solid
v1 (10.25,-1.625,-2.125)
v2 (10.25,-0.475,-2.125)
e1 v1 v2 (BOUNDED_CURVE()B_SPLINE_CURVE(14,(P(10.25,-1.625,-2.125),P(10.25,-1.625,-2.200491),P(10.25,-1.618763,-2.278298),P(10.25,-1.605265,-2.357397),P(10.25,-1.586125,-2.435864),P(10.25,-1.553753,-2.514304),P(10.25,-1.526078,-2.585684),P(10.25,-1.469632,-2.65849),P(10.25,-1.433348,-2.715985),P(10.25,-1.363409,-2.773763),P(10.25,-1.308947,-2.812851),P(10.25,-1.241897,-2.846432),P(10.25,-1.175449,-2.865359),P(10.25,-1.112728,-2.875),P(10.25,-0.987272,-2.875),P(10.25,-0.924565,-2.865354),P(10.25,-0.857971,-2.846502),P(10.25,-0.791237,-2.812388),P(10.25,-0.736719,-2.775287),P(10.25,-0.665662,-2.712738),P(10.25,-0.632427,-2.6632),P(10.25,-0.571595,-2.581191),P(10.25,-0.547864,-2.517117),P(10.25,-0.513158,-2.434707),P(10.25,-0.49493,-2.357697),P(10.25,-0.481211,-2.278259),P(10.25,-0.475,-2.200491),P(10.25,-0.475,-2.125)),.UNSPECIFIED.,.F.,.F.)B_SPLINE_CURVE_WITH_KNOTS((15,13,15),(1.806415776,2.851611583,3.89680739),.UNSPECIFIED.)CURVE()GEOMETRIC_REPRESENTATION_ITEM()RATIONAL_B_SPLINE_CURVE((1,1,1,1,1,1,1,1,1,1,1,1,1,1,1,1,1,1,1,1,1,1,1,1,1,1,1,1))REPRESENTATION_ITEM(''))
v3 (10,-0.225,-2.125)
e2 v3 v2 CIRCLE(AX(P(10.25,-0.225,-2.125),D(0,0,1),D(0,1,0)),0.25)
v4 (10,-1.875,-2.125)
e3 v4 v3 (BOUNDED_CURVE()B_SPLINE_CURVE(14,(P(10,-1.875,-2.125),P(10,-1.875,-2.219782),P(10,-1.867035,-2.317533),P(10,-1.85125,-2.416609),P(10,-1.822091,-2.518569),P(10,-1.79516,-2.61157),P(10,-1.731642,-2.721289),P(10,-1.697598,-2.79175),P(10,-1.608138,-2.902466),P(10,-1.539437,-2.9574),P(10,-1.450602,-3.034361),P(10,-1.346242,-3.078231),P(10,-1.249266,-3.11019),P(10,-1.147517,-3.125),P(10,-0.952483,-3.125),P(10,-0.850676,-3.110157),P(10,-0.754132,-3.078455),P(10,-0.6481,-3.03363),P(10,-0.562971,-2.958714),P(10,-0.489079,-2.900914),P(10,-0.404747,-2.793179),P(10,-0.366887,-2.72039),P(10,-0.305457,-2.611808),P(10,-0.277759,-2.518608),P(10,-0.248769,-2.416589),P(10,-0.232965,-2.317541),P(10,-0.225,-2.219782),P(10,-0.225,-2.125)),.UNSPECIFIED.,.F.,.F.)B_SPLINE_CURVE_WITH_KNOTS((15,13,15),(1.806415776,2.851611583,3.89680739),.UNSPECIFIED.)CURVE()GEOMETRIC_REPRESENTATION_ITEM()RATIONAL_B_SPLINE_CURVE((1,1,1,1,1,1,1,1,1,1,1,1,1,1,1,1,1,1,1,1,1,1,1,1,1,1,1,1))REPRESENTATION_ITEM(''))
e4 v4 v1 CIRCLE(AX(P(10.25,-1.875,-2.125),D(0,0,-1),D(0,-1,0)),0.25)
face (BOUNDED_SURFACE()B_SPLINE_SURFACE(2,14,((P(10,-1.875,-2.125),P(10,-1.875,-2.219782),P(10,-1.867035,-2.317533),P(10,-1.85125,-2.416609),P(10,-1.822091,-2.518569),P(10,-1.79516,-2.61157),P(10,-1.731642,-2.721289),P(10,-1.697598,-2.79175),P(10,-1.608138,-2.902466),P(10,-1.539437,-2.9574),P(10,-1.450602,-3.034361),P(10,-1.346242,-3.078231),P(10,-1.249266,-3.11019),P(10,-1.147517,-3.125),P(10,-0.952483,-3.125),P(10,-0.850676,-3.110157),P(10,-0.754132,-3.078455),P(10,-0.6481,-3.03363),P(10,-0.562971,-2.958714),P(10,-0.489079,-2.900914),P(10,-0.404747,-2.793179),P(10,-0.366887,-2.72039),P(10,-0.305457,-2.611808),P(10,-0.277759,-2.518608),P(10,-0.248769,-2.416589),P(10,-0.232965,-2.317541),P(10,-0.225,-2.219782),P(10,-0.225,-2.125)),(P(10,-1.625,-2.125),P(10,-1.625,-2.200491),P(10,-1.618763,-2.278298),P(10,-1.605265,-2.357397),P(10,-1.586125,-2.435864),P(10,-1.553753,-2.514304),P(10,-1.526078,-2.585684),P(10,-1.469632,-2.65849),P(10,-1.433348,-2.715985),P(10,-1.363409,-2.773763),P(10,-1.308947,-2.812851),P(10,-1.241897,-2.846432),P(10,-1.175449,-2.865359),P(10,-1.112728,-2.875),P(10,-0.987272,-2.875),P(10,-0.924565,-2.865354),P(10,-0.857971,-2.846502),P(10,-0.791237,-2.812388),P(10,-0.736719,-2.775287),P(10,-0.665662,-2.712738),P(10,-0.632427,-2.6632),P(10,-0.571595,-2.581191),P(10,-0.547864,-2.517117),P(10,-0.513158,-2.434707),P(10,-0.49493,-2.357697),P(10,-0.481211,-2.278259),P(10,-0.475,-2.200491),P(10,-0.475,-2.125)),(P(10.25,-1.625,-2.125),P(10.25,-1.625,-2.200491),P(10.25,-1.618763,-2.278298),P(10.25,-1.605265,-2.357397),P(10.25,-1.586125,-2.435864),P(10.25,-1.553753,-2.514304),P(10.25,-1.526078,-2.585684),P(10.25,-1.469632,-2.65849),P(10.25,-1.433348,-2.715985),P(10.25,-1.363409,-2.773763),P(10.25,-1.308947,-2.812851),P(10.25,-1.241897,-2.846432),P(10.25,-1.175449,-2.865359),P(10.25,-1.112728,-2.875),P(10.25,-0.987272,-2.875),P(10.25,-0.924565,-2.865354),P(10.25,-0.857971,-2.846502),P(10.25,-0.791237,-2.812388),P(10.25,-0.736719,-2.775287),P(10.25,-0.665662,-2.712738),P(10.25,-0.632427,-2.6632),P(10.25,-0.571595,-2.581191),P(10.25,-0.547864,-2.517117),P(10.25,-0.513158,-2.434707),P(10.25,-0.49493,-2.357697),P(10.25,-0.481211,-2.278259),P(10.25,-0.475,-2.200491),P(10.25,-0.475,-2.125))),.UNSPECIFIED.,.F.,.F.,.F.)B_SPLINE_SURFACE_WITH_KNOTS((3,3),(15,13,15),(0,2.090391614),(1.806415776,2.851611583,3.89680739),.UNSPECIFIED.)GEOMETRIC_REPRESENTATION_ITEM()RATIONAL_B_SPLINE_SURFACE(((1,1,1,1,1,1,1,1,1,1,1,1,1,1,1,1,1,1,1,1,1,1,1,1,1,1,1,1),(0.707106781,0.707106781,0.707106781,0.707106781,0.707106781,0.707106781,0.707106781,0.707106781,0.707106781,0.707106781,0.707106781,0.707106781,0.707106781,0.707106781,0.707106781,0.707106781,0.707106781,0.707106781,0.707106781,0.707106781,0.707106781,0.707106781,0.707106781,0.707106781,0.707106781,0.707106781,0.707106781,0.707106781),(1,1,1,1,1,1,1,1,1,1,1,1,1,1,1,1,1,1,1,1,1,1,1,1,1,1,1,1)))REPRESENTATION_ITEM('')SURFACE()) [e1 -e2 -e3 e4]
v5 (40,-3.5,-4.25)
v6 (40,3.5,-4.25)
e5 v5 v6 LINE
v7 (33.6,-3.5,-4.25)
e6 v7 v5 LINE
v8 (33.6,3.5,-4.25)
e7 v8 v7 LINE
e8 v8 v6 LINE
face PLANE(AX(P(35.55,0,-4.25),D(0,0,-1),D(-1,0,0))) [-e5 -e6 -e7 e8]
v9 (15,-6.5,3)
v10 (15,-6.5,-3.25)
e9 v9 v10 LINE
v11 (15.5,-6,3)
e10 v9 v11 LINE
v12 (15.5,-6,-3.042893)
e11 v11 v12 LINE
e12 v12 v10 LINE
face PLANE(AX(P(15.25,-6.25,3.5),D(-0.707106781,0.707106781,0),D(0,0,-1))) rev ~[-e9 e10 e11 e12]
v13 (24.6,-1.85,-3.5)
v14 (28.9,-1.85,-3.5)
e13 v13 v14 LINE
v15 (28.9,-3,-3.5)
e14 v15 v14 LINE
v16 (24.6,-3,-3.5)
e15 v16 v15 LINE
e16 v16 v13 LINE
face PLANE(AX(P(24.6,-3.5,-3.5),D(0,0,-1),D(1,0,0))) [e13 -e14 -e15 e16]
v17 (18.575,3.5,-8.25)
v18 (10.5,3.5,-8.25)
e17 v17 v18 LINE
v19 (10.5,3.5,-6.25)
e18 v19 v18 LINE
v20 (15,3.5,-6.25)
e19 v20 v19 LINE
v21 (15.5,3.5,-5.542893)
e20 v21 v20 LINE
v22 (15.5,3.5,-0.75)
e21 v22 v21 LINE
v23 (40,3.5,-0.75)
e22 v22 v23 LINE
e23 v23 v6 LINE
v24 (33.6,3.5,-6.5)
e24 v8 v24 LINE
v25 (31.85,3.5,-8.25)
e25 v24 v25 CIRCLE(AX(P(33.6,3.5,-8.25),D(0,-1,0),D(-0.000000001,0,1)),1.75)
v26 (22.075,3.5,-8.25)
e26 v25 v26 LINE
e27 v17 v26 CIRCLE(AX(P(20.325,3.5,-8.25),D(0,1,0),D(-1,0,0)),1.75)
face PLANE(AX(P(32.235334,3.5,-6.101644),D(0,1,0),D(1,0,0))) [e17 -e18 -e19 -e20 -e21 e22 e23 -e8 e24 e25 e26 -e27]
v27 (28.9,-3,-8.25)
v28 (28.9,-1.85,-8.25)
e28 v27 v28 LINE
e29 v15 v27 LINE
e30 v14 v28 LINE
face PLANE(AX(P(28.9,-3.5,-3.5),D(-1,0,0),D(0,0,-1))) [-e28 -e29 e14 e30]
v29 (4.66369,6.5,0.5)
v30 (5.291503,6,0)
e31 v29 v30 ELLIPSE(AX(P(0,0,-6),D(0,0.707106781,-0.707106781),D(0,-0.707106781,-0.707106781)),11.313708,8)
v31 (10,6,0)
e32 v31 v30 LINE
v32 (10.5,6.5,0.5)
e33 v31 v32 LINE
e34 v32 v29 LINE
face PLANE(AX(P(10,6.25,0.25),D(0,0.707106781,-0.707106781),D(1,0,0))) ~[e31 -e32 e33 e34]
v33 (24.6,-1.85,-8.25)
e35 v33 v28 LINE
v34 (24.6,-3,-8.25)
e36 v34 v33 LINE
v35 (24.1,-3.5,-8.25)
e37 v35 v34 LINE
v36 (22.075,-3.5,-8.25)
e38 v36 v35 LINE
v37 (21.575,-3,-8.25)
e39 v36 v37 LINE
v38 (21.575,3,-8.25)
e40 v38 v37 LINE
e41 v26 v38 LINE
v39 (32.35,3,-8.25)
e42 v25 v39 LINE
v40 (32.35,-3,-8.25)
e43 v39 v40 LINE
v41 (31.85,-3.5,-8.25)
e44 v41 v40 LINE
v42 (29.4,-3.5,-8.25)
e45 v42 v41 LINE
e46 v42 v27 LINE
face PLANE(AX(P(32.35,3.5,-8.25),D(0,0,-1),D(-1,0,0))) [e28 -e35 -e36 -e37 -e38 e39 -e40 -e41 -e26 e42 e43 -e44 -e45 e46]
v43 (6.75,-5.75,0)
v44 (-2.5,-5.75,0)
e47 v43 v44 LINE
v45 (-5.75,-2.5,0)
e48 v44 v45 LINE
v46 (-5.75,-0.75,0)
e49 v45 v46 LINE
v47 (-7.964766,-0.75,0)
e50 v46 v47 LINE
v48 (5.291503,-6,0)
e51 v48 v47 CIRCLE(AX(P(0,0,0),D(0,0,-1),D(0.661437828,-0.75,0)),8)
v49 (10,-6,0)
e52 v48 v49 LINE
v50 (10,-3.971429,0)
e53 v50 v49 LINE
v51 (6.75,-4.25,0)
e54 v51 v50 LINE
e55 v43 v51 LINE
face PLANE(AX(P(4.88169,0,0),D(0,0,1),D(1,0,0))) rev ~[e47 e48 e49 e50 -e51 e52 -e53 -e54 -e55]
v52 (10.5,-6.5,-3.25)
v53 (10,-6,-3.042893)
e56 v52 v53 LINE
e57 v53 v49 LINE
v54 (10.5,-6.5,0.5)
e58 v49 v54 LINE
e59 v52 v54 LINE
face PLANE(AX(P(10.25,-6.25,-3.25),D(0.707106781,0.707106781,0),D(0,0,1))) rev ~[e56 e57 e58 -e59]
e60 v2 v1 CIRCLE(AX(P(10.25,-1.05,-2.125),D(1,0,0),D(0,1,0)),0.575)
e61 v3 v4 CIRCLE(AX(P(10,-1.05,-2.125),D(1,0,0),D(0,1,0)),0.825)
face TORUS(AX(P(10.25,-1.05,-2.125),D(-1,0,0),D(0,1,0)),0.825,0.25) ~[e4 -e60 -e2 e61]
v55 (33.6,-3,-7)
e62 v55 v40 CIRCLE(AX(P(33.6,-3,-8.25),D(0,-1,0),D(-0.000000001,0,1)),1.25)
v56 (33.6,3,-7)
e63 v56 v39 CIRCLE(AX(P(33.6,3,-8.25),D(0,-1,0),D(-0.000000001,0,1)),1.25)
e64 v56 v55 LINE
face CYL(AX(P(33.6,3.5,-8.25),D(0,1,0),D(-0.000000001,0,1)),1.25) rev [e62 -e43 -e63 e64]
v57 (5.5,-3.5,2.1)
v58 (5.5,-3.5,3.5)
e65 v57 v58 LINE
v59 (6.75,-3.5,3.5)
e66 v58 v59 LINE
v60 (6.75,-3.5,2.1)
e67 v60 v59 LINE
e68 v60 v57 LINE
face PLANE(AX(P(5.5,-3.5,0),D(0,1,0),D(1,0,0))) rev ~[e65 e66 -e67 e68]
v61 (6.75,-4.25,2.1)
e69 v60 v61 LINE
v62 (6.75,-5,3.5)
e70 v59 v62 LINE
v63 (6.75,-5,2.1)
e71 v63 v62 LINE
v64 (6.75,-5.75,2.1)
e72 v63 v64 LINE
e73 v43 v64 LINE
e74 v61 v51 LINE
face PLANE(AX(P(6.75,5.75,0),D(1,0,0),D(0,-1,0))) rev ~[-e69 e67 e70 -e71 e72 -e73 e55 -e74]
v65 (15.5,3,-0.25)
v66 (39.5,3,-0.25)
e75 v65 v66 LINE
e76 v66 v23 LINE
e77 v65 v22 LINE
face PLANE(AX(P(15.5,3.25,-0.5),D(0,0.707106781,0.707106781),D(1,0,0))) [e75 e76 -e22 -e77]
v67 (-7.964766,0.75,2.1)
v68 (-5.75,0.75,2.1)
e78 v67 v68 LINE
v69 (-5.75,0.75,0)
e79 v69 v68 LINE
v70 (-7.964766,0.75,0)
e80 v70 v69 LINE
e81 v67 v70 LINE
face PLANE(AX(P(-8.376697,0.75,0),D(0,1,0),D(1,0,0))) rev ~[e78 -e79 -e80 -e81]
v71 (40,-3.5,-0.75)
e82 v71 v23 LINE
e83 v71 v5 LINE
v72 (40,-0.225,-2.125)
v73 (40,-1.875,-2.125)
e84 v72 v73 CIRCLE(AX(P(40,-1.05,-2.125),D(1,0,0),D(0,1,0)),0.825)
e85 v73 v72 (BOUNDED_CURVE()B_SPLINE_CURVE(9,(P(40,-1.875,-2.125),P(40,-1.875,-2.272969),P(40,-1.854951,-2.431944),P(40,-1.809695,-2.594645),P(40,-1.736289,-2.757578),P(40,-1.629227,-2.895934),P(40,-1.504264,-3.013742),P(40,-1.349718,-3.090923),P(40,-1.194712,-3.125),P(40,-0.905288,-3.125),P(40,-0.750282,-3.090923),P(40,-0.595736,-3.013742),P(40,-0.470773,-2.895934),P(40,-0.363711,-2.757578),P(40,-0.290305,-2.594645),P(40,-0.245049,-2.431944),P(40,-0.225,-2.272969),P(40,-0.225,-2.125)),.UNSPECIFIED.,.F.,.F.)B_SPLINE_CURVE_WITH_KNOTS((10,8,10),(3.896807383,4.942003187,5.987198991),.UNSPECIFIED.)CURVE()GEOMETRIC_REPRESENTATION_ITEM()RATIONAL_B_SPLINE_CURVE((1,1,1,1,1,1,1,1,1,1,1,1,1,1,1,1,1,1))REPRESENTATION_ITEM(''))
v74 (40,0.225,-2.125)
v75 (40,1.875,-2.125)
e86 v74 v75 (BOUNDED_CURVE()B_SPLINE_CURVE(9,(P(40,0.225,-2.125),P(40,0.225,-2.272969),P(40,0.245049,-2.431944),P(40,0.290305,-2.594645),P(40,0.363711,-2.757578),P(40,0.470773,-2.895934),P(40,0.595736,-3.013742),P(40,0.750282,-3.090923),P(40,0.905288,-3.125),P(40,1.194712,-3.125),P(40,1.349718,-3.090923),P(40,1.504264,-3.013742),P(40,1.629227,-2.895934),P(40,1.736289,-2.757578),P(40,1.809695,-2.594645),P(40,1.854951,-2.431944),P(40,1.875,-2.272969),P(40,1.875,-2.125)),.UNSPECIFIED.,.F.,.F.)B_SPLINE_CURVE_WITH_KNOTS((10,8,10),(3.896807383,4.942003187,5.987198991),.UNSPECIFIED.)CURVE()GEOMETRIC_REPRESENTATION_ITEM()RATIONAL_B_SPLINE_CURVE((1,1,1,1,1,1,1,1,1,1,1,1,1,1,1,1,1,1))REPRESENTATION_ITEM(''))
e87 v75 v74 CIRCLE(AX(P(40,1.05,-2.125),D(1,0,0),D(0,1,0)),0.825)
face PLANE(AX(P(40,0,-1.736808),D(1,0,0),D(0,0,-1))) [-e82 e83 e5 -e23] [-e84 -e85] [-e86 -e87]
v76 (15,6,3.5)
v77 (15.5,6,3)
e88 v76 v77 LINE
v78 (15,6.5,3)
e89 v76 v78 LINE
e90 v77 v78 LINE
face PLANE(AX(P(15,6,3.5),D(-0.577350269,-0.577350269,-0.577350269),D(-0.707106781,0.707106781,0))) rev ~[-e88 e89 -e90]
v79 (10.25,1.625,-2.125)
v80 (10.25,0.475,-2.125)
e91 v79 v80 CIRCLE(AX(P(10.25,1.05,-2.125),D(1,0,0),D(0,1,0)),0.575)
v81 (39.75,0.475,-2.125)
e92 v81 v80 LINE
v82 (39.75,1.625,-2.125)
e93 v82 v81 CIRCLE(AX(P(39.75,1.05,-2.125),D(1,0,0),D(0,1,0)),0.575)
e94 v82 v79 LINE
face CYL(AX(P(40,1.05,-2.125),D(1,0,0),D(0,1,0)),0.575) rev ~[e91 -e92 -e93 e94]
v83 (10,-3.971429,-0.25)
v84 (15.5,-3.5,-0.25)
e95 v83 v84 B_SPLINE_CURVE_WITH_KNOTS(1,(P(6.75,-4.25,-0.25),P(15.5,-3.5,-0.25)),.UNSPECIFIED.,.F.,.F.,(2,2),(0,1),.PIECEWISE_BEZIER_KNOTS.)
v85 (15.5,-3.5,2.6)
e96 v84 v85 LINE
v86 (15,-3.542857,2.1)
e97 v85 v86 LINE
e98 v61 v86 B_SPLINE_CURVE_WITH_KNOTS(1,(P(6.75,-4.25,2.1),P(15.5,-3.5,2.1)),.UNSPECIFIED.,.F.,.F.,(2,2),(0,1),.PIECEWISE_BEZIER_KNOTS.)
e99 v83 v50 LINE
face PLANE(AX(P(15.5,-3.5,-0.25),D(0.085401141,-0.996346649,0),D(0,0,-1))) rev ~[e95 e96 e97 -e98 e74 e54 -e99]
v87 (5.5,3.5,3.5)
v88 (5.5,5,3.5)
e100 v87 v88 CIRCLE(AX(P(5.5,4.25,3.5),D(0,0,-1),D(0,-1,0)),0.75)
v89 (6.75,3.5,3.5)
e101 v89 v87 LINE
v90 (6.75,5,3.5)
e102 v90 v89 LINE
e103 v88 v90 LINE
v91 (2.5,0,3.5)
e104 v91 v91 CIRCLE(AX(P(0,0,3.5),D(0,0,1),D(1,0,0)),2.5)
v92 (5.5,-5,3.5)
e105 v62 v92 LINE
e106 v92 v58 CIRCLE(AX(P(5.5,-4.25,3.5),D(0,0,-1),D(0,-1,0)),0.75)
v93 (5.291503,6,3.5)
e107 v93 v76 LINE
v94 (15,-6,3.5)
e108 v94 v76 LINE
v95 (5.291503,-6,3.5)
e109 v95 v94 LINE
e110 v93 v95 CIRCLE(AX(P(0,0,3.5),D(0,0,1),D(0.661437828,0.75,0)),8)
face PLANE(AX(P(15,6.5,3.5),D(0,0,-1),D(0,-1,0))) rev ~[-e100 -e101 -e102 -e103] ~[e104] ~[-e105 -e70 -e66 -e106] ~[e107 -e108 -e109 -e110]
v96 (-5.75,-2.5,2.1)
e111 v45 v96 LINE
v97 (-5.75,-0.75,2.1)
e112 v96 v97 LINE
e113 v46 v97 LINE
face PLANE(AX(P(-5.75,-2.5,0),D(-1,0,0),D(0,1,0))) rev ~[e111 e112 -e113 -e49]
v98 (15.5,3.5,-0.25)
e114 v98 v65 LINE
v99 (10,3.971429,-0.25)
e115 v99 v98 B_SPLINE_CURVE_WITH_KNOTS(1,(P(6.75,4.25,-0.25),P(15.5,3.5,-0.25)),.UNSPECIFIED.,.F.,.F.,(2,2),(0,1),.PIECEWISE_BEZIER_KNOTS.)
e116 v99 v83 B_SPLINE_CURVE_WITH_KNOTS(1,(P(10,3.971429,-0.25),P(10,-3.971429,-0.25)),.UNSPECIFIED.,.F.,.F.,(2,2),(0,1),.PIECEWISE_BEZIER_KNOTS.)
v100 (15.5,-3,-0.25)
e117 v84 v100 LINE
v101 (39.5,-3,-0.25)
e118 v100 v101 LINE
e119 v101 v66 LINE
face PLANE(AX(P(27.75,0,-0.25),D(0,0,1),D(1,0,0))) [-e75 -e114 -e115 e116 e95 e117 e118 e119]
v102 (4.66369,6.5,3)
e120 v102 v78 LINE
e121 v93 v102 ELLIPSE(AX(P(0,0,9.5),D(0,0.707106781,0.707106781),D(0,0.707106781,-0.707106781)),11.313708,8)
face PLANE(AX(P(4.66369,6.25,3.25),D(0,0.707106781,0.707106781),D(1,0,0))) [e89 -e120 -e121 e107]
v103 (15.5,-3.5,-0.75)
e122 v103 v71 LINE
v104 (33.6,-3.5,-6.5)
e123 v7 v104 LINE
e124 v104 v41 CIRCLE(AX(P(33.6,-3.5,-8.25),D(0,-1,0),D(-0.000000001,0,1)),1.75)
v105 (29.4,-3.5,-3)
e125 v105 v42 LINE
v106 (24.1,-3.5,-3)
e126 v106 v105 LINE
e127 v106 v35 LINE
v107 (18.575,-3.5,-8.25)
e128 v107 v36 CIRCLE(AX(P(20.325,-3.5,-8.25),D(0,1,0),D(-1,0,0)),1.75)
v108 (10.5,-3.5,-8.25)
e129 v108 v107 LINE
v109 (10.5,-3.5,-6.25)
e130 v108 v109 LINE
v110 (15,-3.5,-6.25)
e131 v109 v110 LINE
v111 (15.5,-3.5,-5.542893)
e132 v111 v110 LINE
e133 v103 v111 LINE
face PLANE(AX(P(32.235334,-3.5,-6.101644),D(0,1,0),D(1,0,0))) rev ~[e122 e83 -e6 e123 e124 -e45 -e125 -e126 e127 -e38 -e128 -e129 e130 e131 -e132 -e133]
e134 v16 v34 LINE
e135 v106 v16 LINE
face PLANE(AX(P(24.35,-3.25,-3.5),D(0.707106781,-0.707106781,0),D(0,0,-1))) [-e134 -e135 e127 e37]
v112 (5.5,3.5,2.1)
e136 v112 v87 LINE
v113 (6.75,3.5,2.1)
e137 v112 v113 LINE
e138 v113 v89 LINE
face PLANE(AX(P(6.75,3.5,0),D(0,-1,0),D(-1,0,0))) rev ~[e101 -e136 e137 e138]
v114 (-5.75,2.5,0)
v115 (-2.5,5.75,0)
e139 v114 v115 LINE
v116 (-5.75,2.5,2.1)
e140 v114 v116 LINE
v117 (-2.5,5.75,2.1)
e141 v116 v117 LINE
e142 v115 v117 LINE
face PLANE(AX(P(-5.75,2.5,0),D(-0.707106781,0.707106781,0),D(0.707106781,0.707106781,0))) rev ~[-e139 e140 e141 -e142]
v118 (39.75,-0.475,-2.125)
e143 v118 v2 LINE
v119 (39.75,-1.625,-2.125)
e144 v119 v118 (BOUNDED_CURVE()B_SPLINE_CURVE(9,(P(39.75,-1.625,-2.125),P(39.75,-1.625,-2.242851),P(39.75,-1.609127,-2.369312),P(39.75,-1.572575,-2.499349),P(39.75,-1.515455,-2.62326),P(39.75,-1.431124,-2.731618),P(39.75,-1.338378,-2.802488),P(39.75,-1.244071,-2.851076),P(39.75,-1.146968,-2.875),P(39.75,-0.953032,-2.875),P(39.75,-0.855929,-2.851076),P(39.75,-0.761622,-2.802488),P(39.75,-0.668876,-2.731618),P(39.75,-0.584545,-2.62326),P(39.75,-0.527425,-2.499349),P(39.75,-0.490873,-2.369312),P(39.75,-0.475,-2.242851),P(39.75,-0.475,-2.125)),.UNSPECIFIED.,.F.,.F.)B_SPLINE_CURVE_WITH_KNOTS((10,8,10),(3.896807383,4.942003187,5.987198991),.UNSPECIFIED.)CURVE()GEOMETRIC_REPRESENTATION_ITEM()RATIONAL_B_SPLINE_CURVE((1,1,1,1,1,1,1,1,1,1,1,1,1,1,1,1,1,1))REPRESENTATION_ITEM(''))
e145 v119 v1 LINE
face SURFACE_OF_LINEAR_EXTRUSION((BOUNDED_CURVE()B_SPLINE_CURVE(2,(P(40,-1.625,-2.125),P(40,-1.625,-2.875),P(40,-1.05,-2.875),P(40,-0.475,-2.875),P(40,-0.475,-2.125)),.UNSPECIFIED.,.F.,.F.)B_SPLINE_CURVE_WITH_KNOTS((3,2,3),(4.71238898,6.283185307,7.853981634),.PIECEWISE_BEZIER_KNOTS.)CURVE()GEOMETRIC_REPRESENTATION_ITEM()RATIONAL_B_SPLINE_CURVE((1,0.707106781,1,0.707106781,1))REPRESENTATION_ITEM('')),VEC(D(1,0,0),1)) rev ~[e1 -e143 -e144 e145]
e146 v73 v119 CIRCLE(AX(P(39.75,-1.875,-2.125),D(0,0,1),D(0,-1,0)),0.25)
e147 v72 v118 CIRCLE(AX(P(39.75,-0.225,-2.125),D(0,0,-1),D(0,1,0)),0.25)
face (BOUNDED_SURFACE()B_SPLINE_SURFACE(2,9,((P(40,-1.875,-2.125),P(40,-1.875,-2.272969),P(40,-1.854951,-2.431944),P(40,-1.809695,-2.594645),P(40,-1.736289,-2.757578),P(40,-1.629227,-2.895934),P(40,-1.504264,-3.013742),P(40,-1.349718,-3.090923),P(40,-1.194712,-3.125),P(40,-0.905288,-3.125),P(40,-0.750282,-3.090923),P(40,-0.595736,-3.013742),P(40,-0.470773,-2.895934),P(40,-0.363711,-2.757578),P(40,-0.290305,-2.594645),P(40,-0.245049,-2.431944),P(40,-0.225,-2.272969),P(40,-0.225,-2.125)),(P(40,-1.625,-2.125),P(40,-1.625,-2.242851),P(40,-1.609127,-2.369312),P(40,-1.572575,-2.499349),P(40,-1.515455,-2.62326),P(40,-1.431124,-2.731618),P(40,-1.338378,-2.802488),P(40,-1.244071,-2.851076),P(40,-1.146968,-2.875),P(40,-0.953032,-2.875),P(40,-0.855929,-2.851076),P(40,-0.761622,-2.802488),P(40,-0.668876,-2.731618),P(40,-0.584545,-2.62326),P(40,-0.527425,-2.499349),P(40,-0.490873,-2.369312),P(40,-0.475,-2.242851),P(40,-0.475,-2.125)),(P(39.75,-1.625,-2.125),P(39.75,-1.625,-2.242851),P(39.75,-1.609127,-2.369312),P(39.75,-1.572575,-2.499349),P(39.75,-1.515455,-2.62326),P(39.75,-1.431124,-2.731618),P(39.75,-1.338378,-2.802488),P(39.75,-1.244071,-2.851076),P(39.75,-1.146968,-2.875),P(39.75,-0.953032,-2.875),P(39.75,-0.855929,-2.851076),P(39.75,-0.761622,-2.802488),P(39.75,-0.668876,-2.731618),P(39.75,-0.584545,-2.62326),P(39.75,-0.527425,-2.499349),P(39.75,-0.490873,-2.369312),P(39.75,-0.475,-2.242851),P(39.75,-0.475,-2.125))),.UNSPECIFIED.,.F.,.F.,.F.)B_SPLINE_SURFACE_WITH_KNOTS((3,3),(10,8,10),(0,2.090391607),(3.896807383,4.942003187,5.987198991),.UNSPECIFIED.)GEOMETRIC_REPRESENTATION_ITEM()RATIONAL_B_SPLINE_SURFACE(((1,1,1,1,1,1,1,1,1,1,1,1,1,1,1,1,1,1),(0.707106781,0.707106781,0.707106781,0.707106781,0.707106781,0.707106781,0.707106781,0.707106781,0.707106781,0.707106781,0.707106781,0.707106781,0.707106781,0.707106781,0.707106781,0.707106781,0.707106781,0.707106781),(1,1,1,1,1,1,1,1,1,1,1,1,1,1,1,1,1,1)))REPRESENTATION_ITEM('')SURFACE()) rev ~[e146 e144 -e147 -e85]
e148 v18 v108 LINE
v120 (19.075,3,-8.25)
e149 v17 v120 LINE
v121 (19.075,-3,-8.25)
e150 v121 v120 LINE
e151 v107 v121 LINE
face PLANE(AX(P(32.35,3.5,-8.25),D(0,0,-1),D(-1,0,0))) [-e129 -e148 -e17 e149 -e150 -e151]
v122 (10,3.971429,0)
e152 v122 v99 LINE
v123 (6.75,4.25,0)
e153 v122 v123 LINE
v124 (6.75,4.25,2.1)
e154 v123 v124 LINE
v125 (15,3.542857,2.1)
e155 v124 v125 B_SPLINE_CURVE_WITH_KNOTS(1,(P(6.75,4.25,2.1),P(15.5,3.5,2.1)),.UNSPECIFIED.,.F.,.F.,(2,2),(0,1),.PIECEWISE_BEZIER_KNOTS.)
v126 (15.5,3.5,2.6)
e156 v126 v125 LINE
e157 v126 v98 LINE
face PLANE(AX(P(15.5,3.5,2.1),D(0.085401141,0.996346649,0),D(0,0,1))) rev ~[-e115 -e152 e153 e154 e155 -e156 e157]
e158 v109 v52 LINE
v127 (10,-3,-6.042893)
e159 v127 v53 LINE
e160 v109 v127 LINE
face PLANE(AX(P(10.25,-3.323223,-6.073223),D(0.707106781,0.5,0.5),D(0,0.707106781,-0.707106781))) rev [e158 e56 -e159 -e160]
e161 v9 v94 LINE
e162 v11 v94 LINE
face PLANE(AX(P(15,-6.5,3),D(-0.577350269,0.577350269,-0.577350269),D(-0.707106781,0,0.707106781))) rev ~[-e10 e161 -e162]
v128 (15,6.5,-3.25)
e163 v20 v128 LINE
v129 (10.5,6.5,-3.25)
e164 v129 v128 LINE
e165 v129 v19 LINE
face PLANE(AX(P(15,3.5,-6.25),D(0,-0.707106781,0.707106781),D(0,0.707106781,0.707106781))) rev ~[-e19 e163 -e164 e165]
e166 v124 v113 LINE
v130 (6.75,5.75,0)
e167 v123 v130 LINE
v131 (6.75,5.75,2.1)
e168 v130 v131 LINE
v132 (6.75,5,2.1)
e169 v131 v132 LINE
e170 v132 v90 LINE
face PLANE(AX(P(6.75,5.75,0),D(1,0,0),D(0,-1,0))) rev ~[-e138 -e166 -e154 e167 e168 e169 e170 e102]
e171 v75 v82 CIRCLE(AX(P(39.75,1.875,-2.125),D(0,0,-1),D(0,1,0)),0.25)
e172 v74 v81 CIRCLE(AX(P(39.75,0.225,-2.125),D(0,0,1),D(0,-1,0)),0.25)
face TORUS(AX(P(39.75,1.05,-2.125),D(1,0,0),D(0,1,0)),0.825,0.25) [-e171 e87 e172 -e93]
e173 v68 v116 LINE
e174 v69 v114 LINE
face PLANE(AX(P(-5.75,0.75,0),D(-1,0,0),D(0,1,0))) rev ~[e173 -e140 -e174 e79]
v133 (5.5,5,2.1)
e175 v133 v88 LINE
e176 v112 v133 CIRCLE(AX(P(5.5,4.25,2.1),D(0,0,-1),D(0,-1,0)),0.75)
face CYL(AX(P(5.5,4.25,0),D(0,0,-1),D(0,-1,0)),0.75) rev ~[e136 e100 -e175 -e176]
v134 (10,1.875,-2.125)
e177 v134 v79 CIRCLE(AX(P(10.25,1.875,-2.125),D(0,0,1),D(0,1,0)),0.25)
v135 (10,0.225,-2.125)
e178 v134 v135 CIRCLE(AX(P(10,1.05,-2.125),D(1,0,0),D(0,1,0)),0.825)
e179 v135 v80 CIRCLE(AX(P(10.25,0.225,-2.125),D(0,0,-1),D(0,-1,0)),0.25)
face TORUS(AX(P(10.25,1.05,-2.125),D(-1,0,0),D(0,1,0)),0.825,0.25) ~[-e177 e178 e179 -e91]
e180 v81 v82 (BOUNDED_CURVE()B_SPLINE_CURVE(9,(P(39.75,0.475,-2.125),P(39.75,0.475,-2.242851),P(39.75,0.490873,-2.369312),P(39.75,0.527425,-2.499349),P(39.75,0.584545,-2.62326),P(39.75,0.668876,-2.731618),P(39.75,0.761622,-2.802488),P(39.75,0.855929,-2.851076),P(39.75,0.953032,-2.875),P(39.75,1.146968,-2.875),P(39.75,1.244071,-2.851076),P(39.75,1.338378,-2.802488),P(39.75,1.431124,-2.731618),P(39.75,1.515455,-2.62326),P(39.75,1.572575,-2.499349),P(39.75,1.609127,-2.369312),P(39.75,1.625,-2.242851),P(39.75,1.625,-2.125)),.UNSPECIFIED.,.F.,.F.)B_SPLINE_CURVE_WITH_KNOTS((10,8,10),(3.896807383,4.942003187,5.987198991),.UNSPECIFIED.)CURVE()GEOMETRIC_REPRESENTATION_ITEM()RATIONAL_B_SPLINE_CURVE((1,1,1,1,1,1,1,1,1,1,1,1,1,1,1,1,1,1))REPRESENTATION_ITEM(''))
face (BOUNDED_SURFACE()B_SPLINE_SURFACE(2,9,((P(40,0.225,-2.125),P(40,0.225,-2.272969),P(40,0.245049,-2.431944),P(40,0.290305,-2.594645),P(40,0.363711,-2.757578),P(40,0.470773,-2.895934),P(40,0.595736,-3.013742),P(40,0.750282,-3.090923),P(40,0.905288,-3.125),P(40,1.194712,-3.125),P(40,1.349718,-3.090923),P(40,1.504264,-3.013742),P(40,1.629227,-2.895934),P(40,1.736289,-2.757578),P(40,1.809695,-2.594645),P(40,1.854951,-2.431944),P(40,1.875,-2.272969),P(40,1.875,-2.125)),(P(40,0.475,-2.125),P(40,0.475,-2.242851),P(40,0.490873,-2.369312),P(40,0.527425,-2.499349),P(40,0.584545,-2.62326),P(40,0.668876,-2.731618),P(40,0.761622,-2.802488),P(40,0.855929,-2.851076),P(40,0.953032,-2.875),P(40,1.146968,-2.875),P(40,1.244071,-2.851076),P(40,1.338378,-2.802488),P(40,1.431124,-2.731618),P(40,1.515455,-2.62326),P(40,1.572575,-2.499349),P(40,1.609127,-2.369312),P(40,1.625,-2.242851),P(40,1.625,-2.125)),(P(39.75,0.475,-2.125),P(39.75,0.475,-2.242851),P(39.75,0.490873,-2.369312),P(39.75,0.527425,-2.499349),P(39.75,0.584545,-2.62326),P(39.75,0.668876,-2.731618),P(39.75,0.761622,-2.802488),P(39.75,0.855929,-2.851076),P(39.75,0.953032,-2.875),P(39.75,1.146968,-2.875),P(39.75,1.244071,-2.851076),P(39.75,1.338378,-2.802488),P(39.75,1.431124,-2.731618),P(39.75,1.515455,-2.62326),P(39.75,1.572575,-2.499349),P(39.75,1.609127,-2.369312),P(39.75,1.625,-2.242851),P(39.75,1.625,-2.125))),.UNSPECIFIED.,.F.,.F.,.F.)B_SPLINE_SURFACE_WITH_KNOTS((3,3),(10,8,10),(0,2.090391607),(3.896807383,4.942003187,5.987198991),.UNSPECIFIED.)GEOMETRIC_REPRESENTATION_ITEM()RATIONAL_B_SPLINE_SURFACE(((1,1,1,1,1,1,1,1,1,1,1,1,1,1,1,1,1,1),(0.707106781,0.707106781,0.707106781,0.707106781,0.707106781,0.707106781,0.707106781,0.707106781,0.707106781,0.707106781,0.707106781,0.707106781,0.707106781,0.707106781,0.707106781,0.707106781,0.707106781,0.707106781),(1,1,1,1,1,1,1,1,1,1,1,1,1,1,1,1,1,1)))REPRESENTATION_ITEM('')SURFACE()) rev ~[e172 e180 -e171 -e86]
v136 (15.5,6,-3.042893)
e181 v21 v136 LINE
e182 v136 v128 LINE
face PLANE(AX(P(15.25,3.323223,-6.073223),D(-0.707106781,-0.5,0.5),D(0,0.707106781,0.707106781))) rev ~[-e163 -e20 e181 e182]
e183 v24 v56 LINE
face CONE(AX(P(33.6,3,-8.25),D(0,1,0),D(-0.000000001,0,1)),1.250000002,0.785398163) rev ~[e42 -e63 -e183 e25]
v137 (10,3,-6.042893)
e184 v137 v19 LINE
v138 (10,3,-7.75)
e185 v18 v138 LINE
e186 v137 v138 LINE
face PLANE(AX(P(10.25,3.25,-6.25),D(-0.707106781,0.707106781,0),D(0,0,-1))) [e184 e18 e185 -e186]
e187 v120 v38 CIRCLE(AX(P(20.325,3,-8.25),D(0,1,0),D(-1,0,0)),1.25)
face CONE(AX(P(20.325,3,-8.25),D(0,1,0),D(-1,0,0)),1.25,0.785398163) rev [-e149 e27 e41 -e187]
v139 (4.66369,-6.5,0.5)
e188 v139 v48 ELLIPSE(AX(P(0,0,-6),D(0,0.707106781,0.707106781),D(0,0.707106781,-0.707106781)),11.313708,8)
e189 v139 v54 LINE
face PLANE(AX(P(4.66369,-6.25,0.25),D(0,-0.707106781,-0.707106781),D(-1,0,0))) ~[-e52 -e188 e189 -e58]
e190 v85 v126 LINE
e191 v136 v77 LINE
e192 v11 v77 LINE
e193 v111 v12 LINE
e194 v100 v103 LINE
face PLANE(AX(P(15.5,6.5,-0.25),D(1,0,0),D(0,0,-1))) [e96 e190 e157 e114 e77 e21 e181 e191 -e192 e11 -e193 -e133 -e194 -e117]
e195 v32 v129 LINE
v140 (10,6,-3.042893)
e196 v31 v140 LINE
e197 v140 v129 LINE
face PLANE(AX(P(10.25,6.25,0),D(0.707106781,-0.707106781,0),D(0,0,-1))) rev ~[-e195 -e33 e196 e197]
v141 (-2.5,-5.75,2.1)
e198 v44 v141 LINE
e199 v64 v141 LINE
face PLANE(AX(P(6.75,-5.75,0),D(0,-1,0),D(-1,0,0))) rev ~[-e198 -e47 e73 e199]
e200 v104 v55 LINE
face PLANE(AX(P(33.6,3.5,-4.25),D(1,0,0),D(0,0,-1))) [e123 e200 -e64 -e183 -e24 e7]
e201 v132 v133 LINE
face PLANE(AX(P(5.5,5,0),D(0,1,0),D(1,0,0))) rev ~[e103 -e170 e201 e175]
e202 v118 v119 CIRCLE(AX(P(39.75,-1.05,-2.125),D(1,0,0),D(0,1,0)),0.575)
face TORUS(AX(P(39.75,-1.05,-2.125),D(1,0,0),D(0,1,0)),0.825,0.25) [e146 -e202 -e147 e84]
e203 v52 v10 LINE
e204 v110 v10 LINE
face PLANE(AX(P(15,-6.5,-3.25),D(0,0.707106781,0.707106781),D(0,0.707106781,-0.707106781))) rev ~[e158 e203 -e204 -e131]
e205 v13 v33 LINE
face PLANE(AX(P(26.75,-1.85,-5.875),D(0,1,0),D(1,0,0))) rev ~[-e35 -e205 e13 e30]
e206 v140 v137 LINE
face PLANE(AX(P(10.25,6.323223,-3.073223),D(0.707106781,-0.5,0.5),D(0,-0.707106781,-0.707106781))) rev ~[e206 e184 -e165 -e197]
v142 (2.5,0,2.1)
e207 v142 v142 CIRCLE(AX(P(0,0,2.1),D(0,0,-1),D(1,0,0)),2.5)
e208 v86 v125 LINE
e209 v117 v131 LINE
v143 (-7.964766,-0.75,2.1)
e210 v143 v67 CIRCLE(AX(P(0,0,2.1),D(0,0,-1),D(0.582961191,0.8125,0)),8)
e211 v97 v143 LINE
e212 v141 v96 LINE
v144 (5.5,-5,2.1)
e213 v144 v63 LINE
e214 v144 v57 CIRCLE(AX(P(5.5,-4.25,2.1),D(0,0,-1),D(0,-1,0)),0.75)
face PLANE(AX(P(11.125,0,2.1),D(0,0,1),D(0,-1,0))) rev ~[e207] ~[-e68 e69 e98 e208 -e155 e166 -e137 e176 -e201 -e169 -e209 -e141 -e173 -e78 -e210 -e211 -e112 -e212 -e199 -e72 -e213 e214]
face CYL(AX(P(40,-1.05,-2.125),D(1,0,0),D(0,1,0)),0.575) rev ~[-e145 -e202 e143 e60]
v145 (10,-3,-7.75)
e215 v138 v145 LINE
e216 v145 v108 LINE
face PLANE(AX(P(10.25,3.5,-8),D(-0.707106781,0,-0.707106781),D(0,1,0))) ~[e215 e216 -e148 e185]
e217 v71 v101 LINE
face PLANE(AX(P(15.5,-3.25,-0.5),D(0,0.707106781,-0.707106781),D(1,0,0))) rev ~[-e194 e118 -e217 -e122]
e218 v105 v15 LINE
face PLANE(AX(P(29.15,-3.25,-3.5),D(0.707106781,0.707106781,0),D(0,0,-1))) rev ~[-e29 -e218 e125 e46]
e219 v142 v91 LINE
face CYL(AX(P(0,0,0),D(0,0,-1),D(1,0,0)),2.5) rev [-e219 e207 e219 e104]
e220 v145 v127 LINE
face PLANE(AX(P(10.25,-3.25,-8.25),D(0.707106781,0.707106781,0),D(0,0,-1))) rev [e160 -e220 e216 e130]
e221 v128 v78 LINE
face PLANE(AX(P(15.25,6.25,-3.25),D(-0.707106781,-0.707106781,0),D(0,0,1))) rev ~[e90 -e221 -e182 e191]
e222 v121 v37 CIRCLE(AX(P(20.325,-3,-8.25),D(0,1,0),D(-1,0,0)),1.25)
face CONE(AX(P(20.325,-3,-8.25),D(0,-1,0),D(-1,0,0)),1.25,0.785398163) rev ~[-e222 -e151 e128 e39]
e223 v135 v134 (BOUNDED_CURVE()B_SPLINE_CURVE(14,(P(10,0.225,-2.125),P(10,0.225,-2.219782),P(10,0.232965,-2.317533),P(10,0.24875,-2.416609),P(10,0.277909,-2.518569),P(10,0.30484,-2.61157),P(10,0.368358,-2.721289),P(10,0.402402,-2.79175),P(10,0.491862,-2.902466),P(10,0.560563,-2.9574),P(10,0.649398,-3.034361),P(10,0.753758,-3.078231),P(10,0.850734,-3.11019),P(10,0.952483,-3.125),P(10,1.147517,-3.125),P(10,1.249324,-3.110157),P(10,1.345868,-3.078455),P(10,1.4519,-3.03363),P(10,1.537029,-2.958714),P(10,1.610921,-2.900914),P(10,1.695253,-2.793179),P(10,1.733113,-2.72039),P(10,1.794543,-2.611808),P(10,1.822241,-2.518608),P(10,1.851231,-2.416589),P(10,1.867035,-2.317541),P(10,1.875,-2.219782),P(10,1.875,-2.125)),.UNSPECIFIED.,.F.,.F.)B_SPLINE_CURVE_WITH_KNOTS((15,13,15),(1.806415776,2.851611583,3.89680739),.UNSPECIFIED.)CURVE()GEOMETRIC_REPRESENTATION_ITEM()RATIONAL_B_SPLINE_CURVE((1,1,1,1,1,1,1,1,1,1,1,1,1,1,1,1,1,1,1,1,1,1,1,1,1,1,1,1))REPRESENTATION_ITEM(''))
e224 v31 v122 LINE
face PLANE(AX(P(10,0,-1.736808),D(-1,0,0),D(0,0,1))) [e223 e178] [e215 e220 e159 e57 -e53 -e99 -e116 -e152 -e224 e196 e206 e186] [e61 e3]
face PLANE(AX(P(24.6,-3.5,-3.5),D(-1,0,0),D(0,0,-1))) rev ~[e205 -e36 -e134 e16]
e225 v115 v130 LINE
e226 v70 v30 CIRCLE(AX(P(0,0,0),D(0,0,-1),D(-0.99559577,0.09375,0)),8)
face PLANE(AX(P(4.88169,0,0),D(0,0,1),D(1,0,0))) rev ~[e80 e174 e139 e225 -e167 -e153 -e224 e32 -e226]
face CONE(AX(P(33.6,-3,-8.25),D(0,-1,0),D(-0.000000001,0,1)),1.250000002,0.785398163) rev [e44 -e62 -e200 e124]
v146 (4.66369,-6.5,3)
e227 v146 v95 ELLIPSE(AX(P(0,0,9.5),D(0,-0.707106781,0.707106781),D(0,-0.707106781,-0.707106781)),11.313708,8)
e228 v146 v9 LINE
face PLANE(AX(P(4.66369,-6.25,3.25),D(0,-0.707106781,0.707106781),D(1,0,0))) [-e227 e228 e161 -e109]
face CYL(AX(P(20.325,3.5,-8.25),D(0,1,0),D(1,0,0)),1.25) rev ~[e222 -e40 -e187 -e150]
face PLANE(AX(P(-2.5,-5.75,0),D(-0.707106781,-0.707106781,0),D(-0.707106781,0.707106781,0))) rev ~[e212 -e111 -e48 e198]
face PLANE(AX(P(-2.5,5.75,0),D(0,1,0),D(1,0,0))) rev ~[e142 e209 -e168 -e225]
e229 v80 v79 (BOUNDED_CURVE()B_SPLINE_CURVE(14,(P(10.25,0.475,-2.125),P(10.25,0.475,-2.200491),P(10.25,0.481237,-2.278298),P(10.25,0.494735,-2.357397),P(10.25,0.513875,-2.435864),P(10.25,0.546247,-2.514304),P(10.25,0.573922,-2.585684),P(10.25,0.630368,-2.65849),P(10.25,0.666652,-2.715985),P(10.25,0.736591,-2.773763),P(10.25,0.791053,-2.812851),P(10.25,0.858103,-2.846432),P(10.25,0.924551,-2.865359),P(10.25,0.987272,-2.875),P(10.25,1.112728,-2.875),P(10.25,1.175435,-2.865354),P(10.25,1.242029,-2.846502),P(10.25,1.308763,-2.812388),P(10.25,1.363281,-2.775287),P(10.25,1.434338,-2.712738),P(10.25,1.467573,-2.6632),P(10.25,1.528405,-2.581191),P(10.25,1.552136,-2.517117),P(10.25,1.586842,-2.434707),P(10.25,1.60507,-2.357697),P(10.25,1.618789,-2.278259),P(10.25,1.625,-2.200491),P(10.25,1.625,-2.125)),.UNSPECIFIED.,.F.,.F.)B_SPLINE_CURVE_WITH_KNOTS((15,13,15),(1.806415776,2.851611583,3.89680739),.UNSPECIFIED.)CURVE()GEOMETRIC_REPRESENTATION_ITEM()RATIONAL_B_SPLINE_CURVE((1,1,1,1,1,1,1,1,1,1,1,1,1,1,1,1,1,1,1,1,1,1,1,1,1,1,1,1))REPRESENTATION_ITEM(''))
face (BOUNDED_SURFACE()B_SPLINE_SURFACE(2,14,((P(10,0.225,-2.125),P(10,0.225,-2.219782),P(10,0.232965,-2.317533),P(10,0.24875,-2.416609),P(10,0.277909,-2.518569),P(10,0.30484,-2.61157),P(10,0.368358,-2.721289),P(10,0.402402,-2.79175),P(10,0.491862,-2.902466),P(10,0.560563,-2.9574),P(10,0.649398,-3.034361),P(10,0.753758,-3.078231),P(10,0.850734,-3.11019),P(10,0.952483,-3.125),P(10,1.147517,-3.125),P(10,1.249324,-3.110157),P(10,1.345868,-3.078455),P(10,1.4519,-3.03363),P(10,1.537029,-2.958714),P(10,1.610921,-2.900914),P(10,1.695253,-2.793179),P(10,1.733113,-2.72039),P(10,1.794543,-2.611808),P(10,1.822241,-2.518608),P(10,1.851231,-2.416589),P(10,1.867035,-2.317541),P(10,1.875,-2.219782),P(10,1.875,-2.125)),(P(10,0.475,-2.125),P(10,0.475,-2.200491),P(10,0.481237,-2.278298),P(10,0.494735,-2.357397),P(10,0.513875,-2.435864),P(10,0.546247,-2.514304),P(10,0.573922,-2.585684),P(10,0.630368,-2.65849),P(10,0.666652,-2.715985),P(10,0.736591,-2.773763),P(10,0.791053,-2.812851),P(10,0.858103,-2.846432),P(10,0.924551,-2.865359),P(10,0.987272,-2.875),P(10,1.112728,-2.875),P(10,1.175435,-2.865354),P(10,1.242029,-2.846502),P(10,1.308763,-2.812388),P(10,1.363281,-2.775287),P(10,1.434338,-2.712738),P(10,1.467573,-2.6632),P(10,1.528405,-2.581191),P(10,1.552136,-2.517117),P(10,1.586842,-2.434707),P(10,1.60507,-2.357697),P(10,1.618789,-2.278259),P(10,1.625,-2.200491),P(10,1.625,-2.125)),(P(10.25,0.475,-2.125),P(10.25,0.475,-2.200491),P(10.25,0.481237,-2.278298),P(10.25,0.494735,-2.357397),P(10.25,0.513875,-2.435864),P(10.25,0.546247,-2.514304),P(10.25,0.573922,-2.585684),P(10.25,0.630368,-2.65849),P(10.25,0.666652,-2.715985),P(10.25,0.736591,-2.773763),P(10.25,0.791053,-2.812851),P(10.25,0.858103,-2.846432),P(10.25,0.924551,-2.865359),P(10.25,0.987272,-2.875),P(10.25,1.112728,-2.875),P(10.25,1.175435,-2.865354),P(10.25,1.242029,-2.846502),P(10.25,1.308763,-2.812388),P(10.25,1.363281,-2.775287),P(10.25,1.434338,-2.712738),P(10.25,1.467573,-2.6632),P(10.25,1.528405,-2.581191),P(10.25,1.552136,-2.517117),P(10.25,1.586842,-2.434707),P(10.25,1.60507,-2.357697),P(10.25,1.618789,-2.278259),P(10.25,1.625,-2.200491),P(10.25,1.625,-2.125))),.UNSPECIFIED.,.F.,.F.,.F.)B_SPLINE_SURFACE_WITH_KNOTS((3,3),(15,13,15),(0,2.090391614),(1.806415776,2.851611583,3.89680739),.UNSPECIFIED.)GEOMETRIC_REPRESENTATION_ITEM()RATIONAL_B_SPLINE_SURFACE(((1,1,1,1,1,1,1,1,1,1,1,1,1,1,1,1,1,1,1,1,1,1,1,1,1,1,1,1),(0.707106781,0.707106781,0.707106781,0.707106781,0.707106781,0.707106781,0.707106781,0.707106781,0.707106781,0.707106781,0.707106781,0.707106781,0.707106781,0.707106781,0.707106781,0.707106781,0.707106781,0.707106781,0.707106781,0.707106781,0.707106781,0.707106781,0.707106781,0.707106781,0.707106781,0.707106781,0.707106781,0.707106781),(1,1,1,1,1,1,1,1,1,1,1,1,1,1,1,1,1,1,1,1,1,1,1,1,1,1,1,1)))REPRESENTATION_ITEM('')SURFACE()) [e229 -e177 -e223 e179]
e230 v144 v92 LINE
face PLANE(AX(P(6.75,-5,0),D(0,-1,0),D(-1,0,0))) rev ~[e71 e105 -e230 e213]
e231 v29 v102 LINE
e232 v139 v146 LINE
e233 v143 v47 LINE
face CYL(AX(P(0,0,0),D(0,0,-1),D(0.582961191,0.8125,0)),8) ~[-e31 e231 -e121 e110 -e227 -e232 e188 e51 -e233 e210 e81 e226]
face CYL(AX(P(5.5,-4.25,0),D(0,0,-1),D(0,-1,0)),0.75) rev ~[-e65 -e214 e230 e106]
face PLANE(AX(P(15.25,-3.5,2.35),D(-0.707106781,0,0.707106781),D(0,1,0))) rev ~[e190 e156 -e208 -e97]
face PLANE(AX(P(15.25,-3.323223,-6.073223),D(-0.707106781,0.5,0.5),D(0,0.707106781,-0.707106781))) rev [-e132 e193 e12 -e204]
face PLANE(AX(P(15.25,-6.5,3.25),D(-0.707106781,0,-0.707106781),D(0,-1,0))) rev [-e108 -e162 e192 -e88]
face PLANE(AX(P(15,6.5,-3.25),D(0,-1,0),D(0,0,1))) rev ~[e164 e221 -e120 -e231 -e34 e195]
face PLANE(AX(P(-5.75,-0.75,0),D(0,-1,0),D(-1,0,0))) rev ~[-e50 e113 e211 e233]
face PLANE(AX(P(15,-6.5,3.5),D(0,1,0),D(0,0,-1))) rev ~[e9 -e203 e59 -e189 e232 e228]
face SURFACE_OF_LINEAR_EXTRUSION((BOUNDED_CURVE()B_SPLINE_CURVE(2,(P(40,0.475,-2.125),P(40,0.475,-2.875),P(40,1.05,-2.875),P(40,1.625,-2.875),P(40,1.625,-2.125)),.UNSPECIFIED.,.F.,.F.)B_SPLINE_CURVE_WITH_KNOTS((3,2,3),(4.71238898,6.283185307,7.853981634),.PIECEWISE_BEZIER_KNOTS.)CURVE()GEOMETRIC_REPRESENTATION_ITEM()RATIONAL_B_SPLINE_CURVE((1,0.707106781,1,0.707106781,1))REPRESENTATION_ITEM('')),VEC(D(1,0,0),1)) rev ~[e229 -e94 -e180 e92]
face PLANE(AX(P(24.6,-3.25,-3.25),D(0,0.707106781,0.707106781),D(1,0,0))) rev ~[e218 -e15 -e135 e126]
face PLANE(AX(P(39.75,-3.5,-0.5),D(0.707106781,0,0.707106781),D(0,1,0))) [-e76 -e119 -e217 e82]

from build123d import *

# Parameters (mm, degrees)
SKETCH1_R            = 2.5
BOSS_EXTRUDE1_DEPTH  = 3.5
CUT_EXTRUDE17_DEPTH  = 2.1
BOSS_EXTRUDE11_DEPTH = 5
BOSS_EXTRUDE4_DEPTH  = 25
SKETCH7_W            = 8.9
SKETCH7_H            = 13
CUT_EXTRUDE2_DEPTH   = 4
SKETCH22_W           = 24.5
SKETCH22_H           = 13
CUT_EXTRUDE13_DEPTH  = 3.75
SKETCH23_W           = 24.5
SKETCH23_H           = 8
CUT_EXTRUDE14_DEPTH  = 3
CUT_EXTRUDE11_DEPTH  = 50.35648387
BOSS_EXTRUDE12_DEPTH = 7
SKETCH24_R           = 1.25
CUT_EXTRUDE15_DEPTH  = 43.430089673
SKETCH26_W           = 4.3
SKETCH26_H           = 4.75
CUT_EXTRUDE16_DEPTH  = 1.65
FILLET8_R            = 0.25
CHAMFER1_SIZE        = 0.5


with BuildPart() as part:
    # Sketch1 → Boss-Extrude1 (new body)
    with BuildSketch(Plane.XY):
        with BuildLine():
            ThreePointArc((4.663689527, 6.5), (-8, 0), (4.663689527, -6.5))
            Line((4.663689527, -6.5), (15, -6.5))
            Line((15, -6.5), (15, 6.5))
            Line((15, 6.5), (4.663689527, 6.5))
        make_face()
        with BuildLine():
            Line((5.5, 5), (6.75, 5))
            Line((6.75, 5), (6.75, 3.5))
            Line((6.75, 3.5), (5.5, 3.5))
            ThreePointArc((5.5, 3.5), (4.75, 4.25), (5.5, 5))
        make_face(mode=Mode.SUBTRACT)
        with BuildLine():
            Line((6.75, -3.5), (6.75, -5))
            Line((6.75, -5), (5.5, -5))
            ThreePointArc((5.5, -5), (4.75, -4.25), (5.5, -3.5))
            Line((5.5, -3.5), (6.75, -3.5))
        make_face(mode=Mode.SUBTRACT)
        Circle(SKETCH1_R, mode=Mode.SUBTRACT)
    extrude(amount=BOSS_EXTRUDE1_DEPTH)

    # Sketch39 → Cut-Extrude17 (cut)
    with BuildSketch(Plane(origin=(0, 0, 0), x_dir=(-1, 0, 0), z_dir=(0, 0, -1))):
        Polygon((5.75, 0.75), (5.75, 2.5), (2.5, 5.75), (-6.75, 5.75), (-6.75, -5.75), (2.5, -5.75), (5.75, -2.5), (5.75, -0.75), (8.376697216, -0.75), (8.376697216, 0.75), align=None)
    extrude(amount=-CUT_EXTRUDE17_DEPTH, mode=Mode.SUBTRACT)

    # Sketch38 → Boss-Extrude11 (add)
    with BuildSketch(Plane(origin=(15, 0, 0), x_dir=(0, 0, -1), z_dir=(1, 0, 0))):
        Polygon((-3.5, 6.5), (3.25, 6.5), (6.25, 3.5), (8.25, 3.5), (8.25, -3.5), (6.25, -3.5), (3.25, -6.5), (-3.5, -6.5), align=None)
    extrude(amount=-BOSS_EXTRUDE11_DEPTH)

    # Sketch6 → Boss-Extrude4 (add)
    with BuildSketch(Plane(origin=(15, 0, 0), x_dir=(0, 0, -1), z_dir=(1, 0, 0))):
        Polygon((6.25, 3.5), (3.25, 6.5), (-3.5, 6.5), (-3.5, -6.5), (3.25, -6.5), (6.25, -3.5), (8.25, -3.5), (8.25, 3.5), align=None)
    extrude(amount=BOSS_EXTRUDE4_DEPTH)

    # Sketch7 → Cut-Extrude2 (cut)
    with BuildSketch(Plane(origin=(0, 0, -8.25), x_dir=(-1, 0, 0), z_dir=(0, 0, -1))):
        with Locations((-35.55, 0)):
            Rectangle(SKETCH7_W, SKETCH7_H)
    extrude(amount=-CUT_EXTRUDE2_DEPTH, mode=Mode.SUBTRACT)

    # Sketch22 → Cut-Extrude13 (cut)
    with BuildSketch(Plane.XY.offset(3.5)):
        with Locations((27.75, 0)):
            Rectangle(SKETCH22_W, SKETCH22_H)
    extrude(amount=-CUT_EXTRUDE13_DEPTH, mode=Mode.SUBTRACT)

    # Sketch23 → Cut-Extrude14 (cut)
    with BuildSketch(Plane(origin=(0, 6.5, 0), x_dir=(1, 0, 0), z_dir=(0, 1, 0))):
        with Locations((27.75, 4.25)):
            Rectangle(SKETCH23_W, SKETCH23_H)
    cut_extrude14 = extrude(amount=-CUT_EXTRUDE14_DEPTH, mode=Mode.SUBTRACT)

    # Mirror1: Cut-Extrude14 across plane
    add(cut_extrude14.mirror(Plane.ZX), mode=Mode.SUBTRACT)

    # Sketch19 → Cut-Extrude11 (cut, through all)
    with BuildSketch(Plane(origin=(40, 0, 0), x_dir=(0, 0, -1), z_dir=(1, 0, 0))):
        with BuildLine():
            ThreePointArc((2.125, -0.475), (1.55, -1.05), (2.125, -1.625))
            add(Edge.make_bspline(
                [(2.125, -1.625), (2.875, -1.625), (2.875, -1.05), (2.875, -0.475), (2.125, -0.475)],
                knots=[4.71238898, 4.71238898, 4.71238898, 6.283185307, 6.283185307, 7.853981634, 7.853981634, 7.853981634], degree=2, weights=[1, 0.707106781, 1, 0.707106781, 1]))
        make_face()
        with BuildLine():
            ThreePointArc((2.125, 1.625), (1.55, 1.05), (2.125, 0.475))
            add(Edge.make_bspline(
                [(2.125, 0.475), (2.875, 0.475), (2.875, 1.05), (2.875, 1.625), (2.125, 1.625)],
                knots=[4.71238898, 4.71238898, 4.71238898, 6.283185307, 6.283185307, 7.853981634, 7.853981634, 7.853981634], degree=2, weights=[1, 0.707106781, 1, 0.707106781, 1]))
        make_face()
    extrude(amount=-CUT_EXTRUDE11_DEPTH, mode=Mode.SUBTRACT)

    # Sketch25 → Boss-Extrude12 (add)
    with BuildSketch(Plane(origin=(0, 3.5, 0), x_dir=(1, 0, 0), z_dir=(0, 1, 0))):
        with BuildLine():
            Line((31.1, 4.25), (33.6, 4.25))
            Line((33.6, 4.25), (33.6, 7))
            ThreePointArc((33.6, 7), (32.716116524, 7.366116524), (32.35, 8.25))
            Line((32.35, 8.25), (31.1, 8.25))
            Line((31.1, 8.25), (31.1, 4.25))
        make_face()
    extrude(amount=-BOSS_EXTRUDE12_DEPTH)

    # Sketch24 → Cut-Extrude15 (cut, through all)
    with BuildSketch(Plane(origin=(0, 3.5, 0), x_dir=(1, 0, 0), z_dir=(0, 1, 0))):
        with Locations((20.325, 8.25)):
            Circle(SKETCH24_R)
    extrude(amount=-CUT_EXTRUDE15_DEPTH, mode=Mode.SUBTRACT)

    # Sketch26 → Cut-Extrude16 (cut)
    with BuildSketch(Plane(origin=(0, -3.5, 0), x_dir=(1, 0, 0), z_dir=(0, 1, 0))):
        with Locations((26.75, 5.875)):
            Rectangle(SKETCH26_W, SKETCH26_H)
    extrude(amount=CUT_EXTRUDE16_DEPTH, mode=Mode.SUBTRACT)

    # Fillet8
    fillet8_edges = [part.edges().sort_by_distance(p)[0] for p in [
        (10, 1.05, -1.55),
        (10, 1.05, -2.875),
        (10, -1.05, -1.55),
        (10, -1.05, -2.875),
        (40, -1.05, -2.875),
        (40, -1.05, -1.55),
        (40, 1.05, -2.875),
        (40, 1.05, -1.55),
    ]]
    fillet(fillet8_edges, radius=FILLET8_R)

    # Sketch41 → Cut-Loft1 section 0
    with BuildSketch(Plane.ZY.offset(-6.75)):
        with BuildLine():
            Line((2.1, -4.25), (-0.25, -4.25))
            Line((-0.25, -4.25), (-0.25, 4.25))
            Line((-0.25, 4.25), (2.1, 4.25))
            Line((2.1, 4.25), (2.1, -4.25))
        make_face()
    # Sketch40 → Cut-Loft1 section 1
    with BuildSketch(Plane(origin=(15.5, 0, 0), x_dir=(0, 0, -1), z_dir=(1, 0, 0))):
        with BuildLine():
            Line((-2.1, 3.5), (0.25, 3.5))
            Line((0.25, 3.5), (0.25, -3.5))
            Line((0.25, -3.5), (-2.1, -3.5))
            Line((-2.1, -3.5), (-2.1, 3.5))
        make_face()
    loft(mode=Mode.SUBTRACT)

    # Chamfer1
    chamfer1_edges = [part.edges().sort_by_distance(p)[0] for p in [
        (10, 6.5, -1.625),
        (10, 5, -4.75),
        (10, 3.5, -7.25),
        (10, 0, -8.25),
        (10, -3.5, -7.25),
        (10, -5, -4.75),
        (10, -6.5, -1.625),
        (15.5, 0, 2.1),
        (15.5, -5, -4.75),
        (15.5, 5, -4.75),
        (15.5, 6.5, 0.125),
        (15.5, 0, 3.5),
        (15.5, -6.5, 0.125),
        (27.75, 3.5, -0.25),
        (40, 0, -0.25),
        (27.75, -3.5, -0.25),
        (24.6, -3.5, -5.875),
        (26.75, -3.5, -3.5),
        (28.9, -3.5, -5.875),
        (32.716116524, -3.5, -7.366116524),
        (32.716116524, 3.5, -7.366116524),
        (20.325, 3.5, -7),
        (20.325, -3.5, -7),
        (7.331844763, -6.5, 0),
        (7.331844763, 6.5, 0),
        (10.081844763, -6.5, 3.5),
        (10.081844763, 6.5, 3.5),
    ]]
    chamfer(chamfer1_edges, length=CHAMFER1_SIZE)


solid = part.part
